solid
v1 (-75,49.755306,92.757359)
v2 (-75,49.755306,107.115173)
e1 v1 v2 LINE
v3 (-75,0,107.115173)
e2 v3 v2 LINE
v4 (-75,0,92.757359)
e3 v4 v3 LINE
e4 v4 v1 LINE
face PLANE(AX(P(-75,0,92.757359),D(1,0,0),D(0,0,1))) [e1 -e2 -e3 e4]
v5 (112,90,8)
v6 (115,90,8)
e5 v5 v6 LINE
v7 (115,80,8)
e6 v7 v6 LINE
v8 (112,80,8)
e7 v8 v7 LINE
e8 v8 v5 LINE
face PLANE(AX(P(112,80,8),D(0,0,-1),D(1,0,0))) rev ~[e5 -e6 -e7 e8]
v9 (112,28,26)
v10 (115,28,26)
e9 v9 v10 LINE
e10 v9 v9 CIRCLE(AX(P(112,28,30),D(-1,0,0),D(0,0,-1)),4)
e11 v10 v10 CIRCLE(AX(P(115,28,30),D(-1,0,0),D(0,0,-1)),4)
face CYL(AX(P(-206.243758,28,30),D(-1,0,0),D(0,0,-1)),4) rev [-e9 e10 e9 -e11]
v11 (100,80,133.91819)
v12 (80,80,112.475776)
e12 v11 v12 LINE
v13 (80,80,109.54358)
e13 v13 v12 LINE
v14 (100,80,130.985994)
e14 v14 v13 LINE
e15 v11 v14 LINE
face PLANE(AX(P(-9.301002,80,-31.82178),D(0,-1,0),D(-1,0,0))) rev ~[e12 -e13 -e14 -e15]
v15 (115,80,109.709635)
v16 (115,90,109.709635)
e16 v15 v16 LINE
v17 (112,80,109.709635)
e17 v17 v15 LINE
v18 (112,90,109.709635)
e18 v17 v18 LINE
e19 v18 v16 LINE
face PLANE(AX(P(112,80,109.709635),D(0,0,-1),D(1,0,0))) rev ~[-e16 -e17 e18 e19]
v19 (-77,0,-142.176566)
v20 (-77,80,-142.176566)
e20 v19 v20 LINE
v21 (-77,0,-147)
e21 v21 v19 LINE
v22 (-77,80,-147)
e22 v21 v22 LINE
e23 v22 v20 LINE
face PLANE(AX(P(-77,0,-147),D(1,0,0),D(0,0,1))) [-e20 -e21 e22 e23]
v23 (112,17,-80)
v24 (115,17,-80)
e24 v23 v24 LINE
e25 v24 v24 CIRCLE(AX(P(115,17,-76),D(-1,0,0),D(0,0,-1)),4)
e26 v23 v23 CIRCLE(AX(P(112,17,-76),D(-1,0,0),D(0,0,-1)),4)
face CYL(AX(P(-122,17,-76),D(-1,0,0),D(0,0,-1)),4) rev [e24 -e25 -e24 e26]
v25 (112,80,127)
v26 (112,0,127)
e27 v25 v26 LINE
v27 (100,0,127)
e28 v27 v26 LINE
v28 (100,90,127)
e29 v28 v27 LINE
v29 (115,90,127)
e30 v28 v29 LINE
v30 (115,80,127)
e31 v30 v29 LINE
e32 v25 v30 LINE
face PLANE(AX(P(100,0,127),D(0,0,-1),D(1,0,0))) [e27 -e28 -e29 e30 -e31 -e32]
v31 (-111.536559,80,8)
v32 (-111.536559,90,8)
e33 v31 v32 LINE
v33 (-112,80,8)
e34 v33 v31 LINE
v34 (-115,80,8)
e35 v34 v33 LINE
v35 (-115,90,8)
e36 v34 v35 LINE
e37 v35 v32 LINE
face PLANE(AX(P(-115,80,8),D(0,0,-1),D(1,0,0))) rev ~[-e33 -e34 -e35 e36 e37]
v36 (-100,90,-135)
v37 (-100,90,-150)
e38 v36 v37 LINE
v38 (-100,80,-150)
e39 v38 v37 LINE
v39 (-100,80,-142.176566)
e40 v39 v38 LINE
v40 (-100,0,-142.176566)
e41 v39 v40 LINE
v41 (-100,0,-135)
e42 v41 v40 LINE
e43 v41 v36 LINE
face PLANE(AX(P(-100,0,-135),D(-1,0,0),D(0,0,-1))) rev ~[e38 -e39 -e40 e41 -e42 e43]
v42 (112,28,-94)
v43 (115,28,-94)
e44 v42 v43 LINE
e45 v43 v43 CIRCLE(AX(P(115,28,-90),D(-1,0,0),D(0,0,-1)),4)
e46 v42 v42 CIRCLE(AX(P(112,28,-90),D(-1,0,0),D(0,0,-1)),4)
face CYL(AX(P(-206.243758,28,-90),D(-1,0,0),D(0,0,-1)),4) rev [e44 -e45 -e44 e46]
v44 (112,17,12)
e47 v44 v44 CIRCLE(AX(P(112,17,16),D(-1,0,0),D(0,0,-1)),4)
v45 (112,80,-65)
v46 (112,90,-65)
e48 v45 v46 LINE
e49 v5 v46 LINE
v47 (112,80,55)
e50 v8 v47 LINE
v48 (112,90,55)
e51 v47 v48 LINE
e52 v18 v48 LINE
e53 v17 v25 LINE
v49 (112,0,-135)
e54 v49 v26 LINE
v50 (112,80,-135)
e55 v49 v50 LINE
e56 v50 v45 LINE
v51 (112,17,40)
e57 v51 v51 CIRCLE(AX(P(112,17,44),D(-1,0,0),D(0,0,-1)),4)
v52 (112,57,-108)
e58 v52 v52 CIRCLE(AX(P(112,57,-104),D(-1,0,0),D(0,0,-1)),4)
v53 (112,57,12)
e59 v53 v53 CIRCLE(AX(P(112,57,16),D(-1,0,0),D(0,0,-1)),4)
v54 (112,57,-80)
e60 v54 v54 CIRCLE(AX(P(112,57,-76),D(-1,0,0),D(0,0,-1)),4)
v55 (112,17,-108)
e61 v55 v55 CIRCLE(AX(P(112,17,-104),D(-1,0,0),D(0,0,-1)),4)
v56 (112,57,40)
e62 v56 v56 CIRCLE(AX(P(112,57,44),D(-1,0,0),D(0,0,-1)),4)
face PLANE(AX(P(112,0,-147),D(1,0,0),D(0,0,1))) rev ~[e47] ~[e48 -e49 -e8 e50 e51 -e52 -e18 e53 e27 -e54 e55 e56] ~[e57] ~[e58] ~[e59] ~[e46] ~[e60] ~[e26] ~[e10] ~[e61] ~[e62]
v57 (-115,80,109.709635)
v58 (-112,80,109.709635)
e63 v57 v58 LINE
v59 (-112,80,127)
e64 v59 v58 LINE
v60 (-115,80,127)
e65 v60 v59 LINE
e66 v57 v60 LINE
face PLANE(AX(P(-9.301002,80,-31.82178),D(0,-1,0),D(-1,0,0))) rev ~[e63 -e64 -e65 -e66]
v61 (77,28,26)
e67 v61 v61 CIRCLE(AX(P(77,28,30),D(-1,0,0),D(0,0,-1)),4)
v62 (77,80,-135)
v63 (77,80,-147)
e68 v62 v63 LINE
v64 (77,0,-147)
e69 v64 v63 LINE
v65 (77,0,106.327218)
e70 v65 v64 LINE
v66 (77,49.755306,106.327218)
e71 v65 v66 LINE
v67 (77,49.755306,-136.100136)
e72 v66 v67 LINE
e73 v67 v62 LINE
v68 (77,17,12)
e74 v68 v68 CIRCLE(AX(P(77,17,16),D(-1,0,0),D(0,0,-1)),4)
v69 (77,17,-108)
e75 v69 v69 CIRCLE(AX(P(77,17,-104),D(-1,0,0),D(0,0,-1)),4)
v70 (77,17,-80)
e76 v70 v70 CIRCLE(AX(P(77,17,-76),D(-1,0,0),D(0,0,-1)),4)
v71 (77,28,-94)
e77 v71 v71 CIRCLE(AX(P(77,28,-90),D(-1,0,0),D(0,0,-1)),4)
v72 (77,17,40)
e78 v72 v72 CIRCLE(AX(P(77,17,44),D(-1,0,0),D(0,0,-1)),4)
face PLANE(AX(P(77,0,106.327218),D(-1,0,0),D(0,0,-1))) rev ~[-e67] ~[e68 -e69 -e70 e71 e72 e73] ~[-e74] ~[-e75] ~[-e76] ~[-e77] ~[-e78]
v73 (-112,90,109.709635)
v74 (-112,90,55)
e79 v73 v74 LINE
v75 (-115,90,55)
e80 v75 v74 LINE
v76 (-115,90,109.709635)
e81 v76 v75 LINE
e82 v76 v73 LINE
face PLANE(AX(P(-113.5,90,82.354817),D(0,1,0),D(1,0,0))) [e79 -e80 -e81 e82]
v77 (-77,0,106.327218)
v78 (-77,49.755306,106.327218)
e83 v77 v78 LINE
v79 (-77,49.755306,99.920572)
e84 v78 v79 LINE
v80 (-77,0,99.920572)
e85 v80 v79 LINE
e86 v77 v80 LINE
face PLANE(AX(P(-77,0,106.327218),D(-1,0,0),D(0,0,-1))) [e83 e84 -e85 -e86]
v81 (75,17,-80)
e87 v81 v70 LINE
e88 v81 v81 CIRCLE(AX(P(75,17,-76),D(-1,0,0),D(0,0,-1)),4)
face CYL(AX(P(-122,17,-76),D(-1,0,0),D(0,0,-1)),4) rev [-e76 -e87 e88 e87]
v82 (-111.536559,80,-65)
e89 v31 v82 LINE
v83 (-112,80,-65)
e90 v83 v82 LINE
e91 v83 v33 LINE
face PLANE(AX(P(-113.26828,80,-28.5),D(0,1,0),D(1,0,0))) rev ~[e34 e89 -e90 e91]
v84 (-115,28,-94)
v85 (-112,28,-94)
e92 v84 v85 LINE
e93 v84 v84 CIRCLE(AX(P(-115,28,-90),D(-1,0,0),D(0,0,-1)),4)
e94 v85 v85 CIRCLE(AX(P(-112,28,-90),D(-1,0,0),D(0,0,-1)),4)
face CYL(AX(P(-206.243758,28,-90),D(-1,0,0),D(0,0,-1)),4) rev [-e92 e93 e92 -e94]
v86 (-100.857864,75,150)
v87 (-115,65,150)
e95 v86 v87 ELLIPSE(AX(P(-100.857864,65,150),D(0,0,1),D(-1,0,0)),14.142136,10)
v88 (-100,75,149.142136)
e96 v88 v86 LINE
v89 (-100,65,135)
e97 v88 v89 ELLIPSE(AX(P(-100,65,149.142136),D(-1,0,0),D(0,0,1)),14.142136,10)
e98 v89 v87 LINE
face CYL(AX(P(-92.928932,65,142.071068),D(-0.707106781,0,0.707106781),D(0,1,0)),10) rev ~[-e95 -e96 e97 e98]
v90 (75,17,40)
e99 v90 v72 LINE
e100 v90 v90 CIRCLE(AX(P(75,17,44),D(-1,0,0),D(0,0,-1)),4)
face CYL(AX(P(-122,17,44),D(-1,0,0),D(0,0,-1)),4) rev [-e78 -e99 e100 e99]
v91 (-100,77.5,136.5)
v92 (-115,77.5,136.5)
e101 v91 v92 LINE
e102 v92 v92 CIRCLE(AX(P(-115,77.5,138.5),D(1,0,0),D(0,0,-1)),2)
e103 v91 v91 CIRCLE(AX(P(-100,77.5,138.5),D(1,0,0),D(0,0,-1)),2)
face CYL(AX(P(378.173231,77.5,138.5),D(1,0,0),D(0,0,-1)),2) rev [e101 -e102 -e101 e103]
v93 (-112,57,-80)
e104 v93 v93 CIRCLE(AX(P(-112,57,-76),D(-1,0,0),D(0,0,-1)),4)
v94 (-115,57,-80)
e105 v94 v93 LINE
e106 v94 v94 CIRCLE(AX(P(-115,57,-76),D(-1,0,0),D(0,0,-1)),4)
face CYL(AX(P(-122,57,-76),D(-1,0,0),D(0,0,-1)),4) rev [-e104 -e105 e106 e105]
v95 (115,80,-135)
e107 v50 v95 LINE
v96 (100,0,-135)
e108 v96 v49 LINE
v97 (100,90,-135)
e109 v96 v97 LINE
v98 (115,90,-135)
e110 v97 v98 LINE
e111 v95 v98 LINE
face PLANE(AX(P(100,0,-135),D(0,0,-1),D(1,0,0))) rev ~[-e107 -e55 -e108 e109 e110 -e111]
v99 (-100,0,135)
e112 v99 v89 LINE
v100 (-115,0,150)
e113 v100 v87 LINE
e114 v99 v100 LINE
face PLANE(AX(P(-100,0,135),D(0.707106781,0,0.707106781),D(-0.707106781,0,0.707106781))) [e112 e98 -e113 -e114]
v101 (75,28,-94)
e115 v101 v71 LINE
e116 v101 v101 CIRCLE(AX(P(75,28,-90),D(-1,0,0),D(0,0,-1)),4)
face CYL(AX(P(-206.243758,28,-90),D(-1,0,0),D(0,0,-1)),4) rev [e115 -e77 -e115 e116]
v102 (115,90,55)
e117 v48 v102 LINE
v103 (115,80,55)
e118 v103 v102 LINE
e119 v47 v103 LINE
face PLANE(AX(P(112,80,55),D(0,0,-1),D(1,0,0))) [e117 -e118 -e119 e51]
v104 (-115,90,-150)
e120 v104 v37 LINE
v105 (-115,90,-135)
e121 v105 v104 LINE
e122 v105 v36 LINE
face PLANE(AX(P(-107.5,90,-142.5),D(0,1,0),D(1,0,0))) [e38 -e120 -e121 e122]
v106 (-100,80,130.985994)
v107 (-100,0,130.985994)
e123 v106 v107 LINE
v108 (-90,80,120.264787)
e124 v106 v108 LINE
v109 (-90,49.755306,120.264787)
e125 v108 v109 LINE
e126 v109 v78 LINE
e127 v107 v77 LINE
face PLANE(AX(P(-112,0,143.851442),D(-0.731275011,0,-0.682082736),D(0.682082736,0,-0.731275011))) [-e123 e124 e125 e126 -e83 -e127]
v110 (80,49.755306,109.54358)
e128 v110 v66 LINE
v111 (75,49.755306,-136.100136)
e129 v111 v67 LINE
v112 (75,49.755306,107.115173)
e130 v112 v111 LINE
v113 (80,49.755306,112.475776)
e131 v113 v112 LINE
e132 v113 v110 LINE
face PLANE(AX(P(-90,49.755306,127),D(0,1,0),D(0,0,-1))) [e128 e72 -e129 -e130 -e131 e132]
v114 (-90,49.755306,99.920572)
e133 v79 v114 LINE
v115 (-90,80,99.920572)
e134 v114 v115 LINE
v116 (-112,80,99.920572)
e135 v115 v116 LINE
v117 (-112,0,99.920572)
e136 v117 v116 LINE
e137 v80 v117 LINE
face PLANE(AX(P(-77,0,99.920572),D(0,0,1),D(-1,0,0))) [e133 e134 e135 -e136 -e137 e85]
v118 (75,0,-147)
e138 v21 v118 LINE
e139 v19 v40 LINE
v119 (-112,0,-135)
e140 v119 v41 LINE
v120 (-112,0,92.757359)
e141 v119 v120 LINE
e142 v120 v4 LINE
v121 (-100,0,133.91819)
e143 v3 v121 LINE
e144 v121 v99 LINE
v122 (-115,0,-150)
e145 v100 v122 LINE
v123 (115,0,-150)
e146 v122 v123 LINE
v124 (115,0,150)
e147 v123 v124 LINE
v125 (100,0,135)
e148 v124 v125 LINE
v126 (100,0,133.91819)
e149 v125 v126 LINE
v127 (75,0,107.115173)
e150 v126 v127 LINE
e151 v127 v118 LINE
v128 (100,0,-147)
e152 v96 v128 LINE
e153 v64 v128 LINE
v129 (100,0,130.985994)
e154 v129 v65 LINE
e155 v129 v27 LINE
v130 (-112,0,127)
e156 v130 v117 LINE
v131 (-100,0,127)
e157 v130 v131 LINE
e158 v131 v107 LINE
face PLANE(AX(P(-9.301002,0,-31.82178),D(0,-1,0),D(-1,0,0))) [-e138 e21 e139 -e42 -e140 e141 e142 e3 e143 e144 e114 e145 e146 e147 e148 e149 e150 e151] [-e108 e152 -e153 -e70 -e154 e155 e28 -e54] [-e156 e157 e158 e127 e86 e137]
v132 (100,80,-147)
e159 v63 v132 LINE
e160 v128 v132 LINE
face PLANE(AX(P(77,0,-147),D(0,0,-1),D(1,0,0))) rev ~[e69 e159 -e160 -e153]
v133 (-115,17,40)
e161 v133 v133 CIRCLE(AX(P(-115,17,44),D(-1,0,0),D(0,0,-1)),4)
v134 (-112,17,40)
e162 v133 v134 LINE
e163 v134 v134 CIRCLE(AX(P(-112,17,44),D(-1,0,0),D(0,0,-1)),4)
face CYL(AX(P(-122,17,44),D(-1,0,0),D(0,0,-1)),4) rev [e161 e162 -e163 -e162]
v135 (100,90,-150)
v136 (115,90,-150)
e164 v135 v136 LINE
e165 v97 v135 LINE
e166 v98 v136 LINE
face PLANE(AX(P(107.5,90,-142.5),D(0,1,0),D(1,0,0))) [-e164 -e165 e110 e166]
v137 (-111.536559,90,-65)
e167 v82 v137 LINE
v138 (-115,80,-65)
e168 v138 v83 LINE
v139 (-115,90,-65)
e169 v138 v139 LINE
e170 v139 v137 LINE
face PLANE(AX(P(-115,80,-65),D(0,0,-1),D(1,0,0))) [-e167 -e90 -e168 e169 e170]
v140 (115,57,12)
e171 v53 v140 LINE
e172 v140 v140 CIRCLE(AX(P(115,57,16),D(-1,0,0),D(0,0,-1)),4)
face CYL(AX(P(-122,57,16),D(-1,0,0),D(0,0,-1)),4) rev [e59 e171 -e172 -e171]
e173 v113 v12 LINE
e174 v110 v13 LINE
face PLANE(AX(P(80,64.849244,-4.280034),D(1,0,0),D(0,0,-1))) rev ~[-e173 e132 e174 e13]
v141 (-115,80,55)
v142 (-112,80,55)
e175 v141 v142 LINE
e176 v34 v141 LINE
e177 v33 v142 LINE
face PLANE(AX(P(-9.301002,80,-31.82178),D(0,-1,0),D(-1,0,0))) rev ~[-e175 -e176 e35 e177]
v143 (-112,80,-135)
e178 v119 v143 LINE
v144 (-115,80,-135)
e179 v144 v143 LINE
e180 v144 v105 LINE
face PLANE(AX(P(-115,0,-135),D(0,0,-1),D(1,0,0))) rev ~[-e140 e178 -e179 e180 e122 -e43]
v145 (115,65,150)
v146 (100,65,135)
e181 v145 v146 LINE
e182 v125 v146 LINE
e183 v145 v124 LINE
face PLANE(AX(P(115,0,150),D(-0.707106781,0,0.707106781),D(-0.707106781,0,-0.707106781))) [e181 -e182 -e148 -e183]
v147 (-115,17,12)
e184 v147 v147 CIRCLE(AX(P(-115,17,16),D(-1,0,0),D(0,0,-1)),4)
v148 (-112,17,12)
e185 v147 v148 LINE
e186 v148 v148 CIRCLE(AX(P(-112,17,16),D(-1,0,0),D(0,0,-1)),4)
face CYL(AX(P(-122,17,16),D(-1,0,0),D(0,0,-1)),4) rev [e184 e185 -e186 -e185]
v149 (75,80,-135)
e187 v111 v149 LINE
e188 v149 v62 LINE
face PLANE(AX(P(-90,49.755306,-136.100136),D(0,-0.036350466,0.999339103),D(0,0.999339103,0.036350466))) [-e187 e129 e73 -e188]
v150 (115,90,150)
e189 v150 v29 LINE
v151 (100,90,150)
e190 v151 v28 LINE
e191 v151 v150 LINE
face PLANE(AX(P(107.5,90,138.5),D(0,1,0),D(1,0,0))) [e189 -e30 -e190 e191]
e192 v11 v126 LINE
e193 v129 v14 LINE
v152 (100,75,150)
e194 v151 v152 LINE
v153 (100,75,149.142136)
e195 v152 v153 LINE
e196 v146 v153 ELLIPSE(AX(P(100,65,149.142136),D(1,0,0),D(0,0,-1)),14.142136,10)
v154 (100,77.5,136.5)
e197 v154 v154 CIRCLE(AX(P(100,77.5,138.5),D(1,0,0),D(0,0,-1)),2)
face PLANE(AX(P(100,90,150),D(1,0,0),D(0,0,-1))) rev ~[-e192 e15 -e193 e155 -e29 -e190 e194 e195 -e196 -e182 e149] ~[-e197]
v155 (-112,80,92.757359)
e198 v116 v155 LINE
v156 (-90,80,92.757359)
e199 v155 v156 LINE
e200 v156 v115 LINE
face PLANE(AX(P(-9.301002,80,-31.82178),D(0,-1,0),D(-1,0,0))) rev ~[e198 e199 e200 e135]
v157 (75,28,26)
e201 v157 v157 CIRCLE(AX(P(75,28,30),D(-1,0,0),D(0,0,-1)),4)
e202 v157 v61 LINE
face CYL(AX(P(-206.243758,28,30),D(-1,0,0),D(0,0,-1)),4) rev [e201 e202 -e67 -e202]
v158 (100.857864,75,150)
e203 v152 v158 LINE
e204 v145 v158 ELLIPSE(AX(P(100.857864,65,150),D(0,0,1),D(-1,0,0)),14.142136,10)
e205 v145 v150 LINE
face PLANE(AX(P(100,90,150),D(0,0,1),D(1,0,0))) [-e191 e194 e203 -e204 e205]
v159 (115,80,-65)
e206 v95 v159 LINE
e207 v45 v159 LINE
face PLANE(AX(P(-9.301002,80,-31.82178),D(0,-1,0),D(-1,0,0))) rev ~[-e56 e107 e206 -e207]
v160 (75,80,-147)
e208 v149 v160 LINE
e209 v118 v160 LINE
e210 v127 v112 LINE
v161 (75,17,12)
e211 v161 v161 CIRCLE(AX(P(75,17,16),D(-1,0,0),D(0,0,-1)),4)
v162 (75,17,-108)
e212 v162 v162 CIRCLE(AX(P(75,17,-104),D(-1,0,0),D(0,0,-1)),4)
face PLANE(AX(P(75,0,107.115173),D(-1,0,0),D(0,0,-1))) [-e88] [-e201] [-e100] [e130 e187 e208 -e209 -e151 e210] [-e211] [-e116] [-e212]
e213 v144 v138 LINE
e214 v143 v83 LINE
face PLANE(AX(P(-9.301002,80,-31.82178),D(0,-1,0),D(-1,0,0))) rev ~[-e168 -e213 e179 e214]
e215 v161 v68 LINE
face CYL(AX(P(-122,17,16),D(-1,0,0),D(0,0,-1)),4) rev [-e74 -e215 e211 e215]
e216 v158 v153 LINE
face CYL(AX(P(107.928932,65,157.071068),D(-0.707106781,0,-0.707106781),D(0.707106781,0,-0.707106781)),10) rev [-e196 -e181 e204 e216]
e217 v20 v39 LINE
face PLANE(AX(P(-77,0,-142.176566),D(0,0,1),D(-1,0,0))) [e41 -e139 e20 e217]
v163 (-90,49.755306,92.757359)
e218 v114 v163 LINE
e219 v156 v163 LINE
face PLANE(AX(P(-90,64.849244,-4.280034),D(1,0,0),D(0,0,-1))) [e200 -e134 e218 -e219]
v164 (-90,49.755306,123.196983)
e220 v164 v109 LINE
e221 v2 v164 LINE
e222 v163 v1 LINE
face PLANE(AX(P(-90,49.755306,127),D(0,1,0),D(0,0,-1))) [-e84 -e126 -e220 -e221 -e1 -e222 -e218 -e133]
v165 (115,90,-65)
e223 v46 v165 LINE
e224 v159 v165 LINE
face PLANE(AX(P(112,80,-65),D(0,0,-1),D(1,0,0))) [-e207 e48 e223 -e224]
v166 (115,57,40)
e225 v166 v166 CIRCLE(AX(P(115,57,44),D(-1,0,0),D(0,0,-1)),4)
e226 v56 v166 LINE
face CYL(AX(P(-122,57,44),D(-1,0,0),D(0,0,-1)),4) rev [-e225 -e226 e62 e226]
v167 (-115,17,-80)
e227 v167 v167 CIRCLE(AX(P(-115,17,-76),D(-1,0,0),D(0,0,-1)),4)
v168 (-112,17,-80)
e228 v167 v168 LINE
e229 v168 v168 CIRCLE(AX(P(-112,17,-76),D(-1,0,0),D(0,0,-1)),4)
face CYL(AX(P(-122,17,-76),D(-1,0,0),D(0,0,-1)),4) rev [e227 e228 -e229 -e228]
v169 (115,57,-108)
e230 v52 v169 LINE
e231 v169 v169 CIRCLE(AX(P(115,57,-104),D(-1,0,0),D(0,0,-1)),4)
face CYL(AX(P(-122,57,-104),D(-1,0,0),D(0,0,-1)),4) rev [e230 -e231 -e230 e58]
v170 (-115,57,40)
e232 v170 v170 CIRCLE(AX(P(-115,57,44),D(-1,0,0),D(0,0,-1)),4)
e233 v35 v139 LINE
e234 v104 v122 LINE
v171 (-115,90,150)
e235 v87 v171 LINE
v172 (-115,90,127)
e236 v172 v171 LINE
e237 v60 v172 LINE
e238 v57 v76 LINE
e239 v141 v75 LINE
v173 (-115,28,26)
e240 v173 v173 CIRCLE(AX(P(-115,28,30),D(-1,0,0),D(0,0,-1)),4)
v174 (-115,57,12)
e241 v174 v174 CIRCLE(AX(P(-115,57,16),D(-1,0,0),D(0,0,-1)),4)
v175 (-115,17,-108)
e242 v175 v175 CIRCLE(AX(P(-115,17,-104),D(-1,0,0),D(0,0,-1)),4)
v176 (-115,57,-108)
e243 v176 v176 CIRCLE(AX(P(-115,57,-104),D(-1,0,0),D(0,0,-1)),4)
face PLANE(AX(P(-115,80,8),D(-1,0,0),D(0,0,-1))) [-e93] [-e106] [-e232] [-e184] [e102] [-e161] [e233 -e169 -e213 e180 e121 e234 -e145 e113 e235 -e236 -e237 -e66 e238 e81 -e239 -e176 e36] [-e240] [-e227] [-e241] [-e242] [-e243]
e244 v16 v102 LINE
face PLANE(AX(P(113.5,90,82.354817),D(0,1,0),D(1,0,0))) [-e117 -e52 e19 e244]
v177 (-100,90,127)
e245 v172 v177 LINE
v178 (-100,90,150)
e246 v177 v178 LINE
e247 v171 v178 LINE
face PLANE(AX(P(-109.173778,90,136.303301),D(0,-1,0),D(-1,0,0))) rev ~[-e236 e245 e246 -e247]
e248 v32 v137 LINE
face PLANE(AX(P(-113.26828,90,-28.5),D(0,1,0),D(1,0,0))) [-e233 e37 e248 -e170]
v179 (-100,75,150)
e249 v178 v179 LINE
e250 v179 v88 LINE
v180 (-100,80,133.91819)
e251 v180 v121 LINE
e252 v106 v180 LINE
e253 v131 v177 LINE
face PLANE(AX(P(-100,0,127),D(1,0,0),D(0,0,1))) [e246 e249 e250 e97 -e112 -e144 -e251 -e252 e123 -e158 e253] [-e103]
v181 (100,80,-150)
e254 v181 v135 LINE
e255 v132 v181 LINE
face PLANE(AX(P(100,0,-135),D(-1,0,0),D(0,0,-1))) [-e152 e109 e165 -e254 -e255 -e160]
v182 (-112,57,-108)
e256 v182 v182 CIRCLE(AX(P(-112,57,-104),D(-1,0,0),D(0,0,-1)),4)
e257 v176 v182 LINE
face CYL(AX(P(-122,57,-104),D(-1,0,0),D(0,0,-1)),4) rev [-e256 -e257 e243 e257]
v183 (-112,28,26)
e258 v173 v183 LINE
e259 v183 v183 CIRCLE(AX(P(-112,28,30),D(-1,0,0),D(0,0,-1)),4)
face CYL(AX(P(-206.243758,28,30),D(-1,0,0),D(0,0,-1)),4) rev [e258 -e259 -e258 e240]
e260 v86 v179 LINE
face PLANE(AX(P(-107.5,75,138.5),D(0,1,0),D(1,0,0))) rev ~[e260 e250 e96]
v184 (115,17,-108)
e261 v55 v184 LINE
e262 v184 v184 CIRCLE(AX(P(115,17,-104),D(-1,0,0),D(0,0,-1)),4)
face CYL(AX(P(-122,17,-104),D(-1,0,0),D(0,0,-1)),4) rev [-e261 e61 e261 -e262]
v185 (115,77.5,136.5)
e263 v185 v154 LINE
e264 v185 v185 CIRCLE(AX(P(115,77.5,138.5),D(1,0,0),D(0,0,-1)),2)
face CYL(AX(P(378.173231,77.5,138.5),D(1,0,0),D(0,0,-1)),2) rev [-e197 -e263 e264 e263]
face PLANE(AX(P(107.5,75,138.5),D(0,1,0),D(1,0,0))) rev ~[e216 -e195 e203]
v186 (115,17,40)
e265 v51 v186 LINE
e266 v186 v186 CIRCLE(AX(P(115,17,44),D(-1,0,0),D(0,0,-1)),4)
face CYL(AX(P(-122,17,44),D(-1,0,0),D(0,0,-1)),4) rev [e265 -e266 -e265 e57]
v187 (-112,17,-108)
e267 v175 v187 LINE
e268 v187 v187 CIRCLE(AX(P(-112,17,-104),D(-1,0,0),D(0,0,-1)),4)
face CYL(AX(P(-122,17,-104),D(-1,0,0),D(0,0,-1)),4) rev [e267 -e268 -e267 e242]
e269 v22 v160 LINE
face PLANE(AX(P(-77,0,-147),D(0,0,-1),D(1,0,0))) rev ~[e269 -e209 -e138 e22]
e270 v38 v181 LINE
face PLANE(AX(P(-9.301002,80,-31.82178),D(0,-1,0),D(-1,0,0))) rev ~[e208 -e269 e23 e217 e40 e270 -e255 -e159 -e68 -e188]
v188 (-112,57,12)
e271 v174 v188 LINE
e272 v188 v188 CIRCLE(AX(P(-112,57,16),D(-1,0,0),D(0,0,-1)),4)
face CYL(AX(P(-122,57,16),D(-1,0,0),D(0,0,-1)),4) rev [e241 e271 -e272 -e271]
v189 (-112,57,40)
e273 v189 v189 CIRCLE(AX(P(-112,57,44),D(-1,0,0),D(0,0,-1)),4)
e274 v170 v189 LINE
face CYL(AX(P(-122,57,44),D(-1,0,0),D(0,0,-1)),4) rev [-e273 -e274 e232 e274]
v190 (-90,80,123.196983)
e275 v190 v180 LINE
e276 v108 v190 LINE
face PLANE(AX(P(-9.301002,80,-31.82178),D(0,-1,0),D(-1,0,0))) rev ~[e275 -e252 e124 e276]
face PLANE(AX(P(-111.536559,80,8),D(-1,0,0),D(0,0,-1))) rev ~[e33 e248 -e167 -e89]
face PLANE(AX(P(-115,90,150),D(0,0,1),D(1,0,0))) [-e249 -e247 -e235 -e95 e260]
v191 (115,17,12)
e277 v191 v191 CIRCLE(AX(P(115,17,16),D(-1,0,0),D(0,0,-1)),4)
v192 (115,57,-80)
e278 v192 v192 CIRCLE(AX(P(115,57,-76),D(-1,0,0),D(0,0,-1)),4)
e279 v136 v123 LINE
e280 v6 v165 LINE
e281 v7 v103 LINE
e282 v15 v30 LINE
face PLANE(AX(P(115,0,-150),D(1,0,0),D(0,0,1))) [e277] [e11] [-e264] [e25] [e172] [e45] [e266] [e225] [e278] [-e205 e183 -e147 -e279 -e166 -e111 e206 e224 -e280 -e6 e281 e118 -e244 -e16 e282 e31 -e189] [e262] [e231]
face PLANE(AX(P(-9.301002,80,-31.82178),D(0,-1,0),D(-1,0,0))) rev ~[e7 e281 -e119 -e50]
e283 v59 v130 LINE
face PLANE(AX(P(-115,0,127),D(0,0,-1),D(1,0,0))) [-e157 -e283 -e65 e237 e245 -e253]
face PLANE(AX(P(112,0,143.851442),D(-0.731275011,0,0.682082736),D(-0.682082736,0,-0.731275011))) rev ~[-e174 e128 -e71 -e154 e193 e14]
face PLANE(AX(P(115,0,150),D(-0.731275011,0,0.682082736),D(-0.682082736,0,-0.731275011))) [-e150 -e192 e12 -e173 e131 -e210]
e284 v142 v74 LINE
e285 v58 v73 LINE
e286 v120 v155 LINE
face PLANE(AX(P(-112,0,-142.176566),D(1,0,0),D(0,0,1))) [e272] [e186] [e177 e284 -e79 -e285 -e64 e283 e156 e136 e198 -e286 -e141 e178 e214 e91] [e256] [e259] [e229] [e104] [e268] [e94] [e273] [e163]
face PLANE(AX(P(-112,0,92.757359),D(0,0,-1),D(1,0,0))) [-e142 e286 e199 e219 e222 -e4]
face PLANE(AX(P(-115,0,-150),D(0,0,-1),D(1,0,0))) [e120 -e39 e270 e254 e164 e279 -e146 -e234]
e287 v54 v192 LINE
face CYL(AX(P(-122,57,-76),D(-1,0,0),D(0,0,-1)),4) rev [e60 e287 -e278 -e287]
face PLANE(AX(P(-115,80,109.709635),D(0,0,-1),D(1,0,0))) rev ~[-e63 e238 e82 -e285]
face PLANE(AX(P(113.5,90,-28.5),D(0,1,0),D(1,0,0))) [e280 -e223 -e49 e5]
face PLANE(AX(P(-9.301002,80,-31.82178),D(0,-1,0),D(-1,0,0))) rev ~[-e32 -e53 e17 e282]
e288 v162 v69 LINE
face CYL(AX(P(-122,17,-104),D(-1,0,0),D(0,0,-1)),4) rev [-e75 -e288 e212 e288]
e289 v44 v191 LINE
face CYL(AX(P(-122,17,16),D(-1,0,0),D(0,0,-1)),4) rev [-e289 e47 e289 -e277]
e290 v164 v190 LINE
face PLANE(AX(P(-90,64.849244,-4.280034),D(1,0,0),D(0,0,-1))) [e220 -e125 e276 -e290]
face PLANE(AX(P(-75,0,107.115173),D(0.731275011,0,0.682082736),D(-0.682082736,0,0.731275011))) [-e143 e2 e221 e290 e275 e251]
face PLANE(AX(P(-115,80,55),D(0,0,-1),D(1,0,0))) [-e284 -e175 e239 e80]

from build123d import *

# Parameters (mm, degrees)
BOSS_EXTRUDE1_DEPTH     = 80
CUT_EXTRUDE1_DEPTH      = 206.243757518
CUT_EXTRUDE1_DEPTH_BACK = 206.243757518
SKETCH2_R               = 4
SKETCH5_W               = 15
SKETCH5_H               = 15
BOSS_EXTRUDE2_DEPTH     = 90
CUT_EXTRUDE2_DEPTH      = 230
CUT_EXTRUDE2_DEPTH_BACK = 10
SKETCH6_R               = 4
CUT_EXTRUDE3_DEPTH      = 80
CUT_EXTRUDE3_DEPTH_BACK = 90
SKETCH8_W               = 15
SKETCH8_H               = 23
BOSS_EXTRUDE3_DEPTH     = 15
FILLET1_R               = 10
FILLET2_R               = 10
CUT_EXTRUDE5_DEPTH      = 245
CUT_EXTRUDE5_DEPTH_BACK = 278.173231031
SKETCH9_R               = 2
SKETCH11_W              = 3.463440771
SKETCH11_H              = 73
SKETCH11_W_2            = 3
SKETCH11_H_2            = 54.709634628
BOSS_EXTRUDE4_DEPTH     = 10


with BuildPart() as part:
    # Sketch1 → Boss-Extrude1 (new body)
    with BuildSketch(Plane(origin=(0, 0, 0), x_dir=(1, 0, 0), z_dir=(0, 1, 0))):
        Polygon((-115, 150), (115, 150), (115, -150), (75, -107.115172571), (75, 147), (-75, 147), (-77, 147), (-77, 142.176566344), (-112, 142.176566344), (-112, -92.757359313), (-75, -92.757359313), (-75, -107.115172571), (-115, -150), (-115, -147), (-115, -92.757359313), (-115, 147), align=None)
        Polygon((112, 147), (112, -112), (112, -143.851442339), (77, -106.327218338), (77, 147), align=None, mode=Mode.SUBTRACT)
        Polygon((-112, -112), (-112, -143.851442339), (-77, -106.327218338), (-77, -99.920571676), (-112, -99.920571676), align=None, mode=Mode.SUBTRACT)
    extrude(amount=BOSS_EXTRUDE1_DEPTH)

    # Sketch2 → Cut-Extrude1 (cut, two sides: drawn at the far end of the back side and taken through both)
    with BuildSketch(Plane(origin=(0, 0, 0), x_dir=(0, 0, -1), z_dir=(1, 0, 0)).offset(-CUT_EXTRUDE1_DEPTH_BACK)):
        with Locations((90, 28)):
            Circle(SKETCH2_R)
        with Locations((-30, 28)):
            Circle(SKETCH2_R)
    extrude(amount=CUT_EXTRUDE1_DEPTH + CUT_EXTRUDE1_DEPTH_BACK, mode=Mode.SUBTRACT)

    # Sketch5 → Boss-Extrude2 (add)
    with BuildSketch(Plane(origin=(0, 0, 0), x_dir=(1, 0, 0), z_dir=(0, 1, 0))):
        Polygon((-115, -127), (-100, -127), (-100, -135), (-115, -150), (-115, -140.427238406), align=None)
        Polygon((115, -150), (100, -135), (100, -127), (115, -127), (115, -140.427238406), align=None)
        with Locations((107.5, 142.5)):
            Rectangle(SKETCH5_W, SKETCH5_H)
        with Locations((-107.5, 142.5)):
            Rectangle(SKETCH5_W, SKETCH5_H)
    extrude(amount=BOSS_EXTRUDE2_DEPTH)

    # Sketch6 → Cut-Extrude2 (cut, two sides: drawn at the far end of the back side and taken through both)
    with BuildSketch(Plane(origin=(-112, 0, 0), x_dir=(0, 0, -1), z_dir=(1, 0, 0)).offset(-CUT_EXTRUDE2_DEPTH_BACK)):
        with Locations((76, 17)):
            Circle(SKETCH6_R)
        with Locations((104, 17)):
            Circle(SKETCH6_R)
        with Locations((104, 57)):
            Circle(SKETCH6_R)
        with Locations((76, 57)):
            Circle(SKETCH6_R)
        with Locations((-16, 57)):
            Circle(SKETCH6_R)
        with Locations((-44, 57)):
            Circle(SKETCH6_R)
        with Locations((-44, 17)):
            Circle(SKETCH6_R)
        with Locations((-16, 17)):
            Circle(SKETCH6_R)
    extrude(amount=CUT_EXTRUDE2_DEPTH + CUT_EXTRUDE2_DEPTH_BACK, mode=Mode.SUBTRACT)

    # Sketch7 → Cut-Extrude3 (cut, two sides: drawn at the far end of the back side and taken through both)
    with BuildSketch(Plane(origin=(0, 0, 0), x_dir=(0, 0, -1), z_dir=(1, 0, 0)).offset(-CUT_EXTRUDE3_DEPTH_BACK)):
        Polygon((-127, 80), (-127, 49.75530595), (136.100135801, 49.75530595), (135, 80), align=None)
    extrude(amount=CUT_EXTRUDE3_DEPTH + CUT_EXTRUDE3_DEPTH_BACK, mode=Mode.SUBTRACT)

    # Sketch8 → Boss-Extrude3 (add)
    with BuildSketch(Plane(origin=(0, 90, 0), x_dir=(1, 0, 0), z_dir=(0, 1, 0))):
        with Locations((107.5, -138.5)):
            Rectangle(SKETCH8_W, SKETCH8_H)
        with Locations((-107.5, -138.5)):
            Rectangle(SKETCH8_W, SKETCH8_H)
    extrude(amount=-BOSS_EXTRUDE3_DEPTH)

    # Fillet1
    fillet1_edges = [part.edges().sort_by_distance(p)[0] for p in [
        (107.5, 75, 142.5),
    ]]
    fillet(fillet1_edges, radius=FILLET1_R)

    # Fillet2
    fillet2_edges = [part.edges().sort_by_distance(p)[0] for p in [
        (-107.5, 75, 142.5),
    ]]
    fillet(fillet2_edges, radius=FILLET2_R)

    # Sketch9 → Cut-Extrude5 (cut, two sides: drawn at the far end of the back side and taken through both)
    with BuildSketch(Plane.ZY.offset(-100).offset(-CUT_EXTRUDE5_DEPTH_BACK)):
        with Locations(Location((138.5, 77.5, 0), (0, 0, 180))):
            Circle(SKETCH9_R)
    extrude(amount=CUT_EXTRUDE5_DEPTH + CUT_EXTRUDE5_DEPTH_BACK, mode=Mode.SUBTRACT)

    # Sketch11 → Boss-Extrude4 (add, through all)
    with BuildSketch(Plane(origin=(0, 80, 0), x_dir=(1, 0, 0), z_dir=(0, 1, 0))):
        with Locations((-113.268279615, 28.5)):
            Rectangle(SKETCH11_W, SKETCH11_H)
        with Locations((113.5, 28.5)):
            Rectangle(SKETCH11_W_2, SKETCH11_H)
        with Locations((-113.5, -82.354817314)):
            Rectangle(SKETCH11_W_2, SKETCH11_H_2)
        with Locations((113.5, -82.354817314)):
            Rectangle(SKETCH11_W_2, SKETCH11_H_2)
    extrude(amount=BOSS_EXTRUDE4_DEPTH)


solid = part.part
